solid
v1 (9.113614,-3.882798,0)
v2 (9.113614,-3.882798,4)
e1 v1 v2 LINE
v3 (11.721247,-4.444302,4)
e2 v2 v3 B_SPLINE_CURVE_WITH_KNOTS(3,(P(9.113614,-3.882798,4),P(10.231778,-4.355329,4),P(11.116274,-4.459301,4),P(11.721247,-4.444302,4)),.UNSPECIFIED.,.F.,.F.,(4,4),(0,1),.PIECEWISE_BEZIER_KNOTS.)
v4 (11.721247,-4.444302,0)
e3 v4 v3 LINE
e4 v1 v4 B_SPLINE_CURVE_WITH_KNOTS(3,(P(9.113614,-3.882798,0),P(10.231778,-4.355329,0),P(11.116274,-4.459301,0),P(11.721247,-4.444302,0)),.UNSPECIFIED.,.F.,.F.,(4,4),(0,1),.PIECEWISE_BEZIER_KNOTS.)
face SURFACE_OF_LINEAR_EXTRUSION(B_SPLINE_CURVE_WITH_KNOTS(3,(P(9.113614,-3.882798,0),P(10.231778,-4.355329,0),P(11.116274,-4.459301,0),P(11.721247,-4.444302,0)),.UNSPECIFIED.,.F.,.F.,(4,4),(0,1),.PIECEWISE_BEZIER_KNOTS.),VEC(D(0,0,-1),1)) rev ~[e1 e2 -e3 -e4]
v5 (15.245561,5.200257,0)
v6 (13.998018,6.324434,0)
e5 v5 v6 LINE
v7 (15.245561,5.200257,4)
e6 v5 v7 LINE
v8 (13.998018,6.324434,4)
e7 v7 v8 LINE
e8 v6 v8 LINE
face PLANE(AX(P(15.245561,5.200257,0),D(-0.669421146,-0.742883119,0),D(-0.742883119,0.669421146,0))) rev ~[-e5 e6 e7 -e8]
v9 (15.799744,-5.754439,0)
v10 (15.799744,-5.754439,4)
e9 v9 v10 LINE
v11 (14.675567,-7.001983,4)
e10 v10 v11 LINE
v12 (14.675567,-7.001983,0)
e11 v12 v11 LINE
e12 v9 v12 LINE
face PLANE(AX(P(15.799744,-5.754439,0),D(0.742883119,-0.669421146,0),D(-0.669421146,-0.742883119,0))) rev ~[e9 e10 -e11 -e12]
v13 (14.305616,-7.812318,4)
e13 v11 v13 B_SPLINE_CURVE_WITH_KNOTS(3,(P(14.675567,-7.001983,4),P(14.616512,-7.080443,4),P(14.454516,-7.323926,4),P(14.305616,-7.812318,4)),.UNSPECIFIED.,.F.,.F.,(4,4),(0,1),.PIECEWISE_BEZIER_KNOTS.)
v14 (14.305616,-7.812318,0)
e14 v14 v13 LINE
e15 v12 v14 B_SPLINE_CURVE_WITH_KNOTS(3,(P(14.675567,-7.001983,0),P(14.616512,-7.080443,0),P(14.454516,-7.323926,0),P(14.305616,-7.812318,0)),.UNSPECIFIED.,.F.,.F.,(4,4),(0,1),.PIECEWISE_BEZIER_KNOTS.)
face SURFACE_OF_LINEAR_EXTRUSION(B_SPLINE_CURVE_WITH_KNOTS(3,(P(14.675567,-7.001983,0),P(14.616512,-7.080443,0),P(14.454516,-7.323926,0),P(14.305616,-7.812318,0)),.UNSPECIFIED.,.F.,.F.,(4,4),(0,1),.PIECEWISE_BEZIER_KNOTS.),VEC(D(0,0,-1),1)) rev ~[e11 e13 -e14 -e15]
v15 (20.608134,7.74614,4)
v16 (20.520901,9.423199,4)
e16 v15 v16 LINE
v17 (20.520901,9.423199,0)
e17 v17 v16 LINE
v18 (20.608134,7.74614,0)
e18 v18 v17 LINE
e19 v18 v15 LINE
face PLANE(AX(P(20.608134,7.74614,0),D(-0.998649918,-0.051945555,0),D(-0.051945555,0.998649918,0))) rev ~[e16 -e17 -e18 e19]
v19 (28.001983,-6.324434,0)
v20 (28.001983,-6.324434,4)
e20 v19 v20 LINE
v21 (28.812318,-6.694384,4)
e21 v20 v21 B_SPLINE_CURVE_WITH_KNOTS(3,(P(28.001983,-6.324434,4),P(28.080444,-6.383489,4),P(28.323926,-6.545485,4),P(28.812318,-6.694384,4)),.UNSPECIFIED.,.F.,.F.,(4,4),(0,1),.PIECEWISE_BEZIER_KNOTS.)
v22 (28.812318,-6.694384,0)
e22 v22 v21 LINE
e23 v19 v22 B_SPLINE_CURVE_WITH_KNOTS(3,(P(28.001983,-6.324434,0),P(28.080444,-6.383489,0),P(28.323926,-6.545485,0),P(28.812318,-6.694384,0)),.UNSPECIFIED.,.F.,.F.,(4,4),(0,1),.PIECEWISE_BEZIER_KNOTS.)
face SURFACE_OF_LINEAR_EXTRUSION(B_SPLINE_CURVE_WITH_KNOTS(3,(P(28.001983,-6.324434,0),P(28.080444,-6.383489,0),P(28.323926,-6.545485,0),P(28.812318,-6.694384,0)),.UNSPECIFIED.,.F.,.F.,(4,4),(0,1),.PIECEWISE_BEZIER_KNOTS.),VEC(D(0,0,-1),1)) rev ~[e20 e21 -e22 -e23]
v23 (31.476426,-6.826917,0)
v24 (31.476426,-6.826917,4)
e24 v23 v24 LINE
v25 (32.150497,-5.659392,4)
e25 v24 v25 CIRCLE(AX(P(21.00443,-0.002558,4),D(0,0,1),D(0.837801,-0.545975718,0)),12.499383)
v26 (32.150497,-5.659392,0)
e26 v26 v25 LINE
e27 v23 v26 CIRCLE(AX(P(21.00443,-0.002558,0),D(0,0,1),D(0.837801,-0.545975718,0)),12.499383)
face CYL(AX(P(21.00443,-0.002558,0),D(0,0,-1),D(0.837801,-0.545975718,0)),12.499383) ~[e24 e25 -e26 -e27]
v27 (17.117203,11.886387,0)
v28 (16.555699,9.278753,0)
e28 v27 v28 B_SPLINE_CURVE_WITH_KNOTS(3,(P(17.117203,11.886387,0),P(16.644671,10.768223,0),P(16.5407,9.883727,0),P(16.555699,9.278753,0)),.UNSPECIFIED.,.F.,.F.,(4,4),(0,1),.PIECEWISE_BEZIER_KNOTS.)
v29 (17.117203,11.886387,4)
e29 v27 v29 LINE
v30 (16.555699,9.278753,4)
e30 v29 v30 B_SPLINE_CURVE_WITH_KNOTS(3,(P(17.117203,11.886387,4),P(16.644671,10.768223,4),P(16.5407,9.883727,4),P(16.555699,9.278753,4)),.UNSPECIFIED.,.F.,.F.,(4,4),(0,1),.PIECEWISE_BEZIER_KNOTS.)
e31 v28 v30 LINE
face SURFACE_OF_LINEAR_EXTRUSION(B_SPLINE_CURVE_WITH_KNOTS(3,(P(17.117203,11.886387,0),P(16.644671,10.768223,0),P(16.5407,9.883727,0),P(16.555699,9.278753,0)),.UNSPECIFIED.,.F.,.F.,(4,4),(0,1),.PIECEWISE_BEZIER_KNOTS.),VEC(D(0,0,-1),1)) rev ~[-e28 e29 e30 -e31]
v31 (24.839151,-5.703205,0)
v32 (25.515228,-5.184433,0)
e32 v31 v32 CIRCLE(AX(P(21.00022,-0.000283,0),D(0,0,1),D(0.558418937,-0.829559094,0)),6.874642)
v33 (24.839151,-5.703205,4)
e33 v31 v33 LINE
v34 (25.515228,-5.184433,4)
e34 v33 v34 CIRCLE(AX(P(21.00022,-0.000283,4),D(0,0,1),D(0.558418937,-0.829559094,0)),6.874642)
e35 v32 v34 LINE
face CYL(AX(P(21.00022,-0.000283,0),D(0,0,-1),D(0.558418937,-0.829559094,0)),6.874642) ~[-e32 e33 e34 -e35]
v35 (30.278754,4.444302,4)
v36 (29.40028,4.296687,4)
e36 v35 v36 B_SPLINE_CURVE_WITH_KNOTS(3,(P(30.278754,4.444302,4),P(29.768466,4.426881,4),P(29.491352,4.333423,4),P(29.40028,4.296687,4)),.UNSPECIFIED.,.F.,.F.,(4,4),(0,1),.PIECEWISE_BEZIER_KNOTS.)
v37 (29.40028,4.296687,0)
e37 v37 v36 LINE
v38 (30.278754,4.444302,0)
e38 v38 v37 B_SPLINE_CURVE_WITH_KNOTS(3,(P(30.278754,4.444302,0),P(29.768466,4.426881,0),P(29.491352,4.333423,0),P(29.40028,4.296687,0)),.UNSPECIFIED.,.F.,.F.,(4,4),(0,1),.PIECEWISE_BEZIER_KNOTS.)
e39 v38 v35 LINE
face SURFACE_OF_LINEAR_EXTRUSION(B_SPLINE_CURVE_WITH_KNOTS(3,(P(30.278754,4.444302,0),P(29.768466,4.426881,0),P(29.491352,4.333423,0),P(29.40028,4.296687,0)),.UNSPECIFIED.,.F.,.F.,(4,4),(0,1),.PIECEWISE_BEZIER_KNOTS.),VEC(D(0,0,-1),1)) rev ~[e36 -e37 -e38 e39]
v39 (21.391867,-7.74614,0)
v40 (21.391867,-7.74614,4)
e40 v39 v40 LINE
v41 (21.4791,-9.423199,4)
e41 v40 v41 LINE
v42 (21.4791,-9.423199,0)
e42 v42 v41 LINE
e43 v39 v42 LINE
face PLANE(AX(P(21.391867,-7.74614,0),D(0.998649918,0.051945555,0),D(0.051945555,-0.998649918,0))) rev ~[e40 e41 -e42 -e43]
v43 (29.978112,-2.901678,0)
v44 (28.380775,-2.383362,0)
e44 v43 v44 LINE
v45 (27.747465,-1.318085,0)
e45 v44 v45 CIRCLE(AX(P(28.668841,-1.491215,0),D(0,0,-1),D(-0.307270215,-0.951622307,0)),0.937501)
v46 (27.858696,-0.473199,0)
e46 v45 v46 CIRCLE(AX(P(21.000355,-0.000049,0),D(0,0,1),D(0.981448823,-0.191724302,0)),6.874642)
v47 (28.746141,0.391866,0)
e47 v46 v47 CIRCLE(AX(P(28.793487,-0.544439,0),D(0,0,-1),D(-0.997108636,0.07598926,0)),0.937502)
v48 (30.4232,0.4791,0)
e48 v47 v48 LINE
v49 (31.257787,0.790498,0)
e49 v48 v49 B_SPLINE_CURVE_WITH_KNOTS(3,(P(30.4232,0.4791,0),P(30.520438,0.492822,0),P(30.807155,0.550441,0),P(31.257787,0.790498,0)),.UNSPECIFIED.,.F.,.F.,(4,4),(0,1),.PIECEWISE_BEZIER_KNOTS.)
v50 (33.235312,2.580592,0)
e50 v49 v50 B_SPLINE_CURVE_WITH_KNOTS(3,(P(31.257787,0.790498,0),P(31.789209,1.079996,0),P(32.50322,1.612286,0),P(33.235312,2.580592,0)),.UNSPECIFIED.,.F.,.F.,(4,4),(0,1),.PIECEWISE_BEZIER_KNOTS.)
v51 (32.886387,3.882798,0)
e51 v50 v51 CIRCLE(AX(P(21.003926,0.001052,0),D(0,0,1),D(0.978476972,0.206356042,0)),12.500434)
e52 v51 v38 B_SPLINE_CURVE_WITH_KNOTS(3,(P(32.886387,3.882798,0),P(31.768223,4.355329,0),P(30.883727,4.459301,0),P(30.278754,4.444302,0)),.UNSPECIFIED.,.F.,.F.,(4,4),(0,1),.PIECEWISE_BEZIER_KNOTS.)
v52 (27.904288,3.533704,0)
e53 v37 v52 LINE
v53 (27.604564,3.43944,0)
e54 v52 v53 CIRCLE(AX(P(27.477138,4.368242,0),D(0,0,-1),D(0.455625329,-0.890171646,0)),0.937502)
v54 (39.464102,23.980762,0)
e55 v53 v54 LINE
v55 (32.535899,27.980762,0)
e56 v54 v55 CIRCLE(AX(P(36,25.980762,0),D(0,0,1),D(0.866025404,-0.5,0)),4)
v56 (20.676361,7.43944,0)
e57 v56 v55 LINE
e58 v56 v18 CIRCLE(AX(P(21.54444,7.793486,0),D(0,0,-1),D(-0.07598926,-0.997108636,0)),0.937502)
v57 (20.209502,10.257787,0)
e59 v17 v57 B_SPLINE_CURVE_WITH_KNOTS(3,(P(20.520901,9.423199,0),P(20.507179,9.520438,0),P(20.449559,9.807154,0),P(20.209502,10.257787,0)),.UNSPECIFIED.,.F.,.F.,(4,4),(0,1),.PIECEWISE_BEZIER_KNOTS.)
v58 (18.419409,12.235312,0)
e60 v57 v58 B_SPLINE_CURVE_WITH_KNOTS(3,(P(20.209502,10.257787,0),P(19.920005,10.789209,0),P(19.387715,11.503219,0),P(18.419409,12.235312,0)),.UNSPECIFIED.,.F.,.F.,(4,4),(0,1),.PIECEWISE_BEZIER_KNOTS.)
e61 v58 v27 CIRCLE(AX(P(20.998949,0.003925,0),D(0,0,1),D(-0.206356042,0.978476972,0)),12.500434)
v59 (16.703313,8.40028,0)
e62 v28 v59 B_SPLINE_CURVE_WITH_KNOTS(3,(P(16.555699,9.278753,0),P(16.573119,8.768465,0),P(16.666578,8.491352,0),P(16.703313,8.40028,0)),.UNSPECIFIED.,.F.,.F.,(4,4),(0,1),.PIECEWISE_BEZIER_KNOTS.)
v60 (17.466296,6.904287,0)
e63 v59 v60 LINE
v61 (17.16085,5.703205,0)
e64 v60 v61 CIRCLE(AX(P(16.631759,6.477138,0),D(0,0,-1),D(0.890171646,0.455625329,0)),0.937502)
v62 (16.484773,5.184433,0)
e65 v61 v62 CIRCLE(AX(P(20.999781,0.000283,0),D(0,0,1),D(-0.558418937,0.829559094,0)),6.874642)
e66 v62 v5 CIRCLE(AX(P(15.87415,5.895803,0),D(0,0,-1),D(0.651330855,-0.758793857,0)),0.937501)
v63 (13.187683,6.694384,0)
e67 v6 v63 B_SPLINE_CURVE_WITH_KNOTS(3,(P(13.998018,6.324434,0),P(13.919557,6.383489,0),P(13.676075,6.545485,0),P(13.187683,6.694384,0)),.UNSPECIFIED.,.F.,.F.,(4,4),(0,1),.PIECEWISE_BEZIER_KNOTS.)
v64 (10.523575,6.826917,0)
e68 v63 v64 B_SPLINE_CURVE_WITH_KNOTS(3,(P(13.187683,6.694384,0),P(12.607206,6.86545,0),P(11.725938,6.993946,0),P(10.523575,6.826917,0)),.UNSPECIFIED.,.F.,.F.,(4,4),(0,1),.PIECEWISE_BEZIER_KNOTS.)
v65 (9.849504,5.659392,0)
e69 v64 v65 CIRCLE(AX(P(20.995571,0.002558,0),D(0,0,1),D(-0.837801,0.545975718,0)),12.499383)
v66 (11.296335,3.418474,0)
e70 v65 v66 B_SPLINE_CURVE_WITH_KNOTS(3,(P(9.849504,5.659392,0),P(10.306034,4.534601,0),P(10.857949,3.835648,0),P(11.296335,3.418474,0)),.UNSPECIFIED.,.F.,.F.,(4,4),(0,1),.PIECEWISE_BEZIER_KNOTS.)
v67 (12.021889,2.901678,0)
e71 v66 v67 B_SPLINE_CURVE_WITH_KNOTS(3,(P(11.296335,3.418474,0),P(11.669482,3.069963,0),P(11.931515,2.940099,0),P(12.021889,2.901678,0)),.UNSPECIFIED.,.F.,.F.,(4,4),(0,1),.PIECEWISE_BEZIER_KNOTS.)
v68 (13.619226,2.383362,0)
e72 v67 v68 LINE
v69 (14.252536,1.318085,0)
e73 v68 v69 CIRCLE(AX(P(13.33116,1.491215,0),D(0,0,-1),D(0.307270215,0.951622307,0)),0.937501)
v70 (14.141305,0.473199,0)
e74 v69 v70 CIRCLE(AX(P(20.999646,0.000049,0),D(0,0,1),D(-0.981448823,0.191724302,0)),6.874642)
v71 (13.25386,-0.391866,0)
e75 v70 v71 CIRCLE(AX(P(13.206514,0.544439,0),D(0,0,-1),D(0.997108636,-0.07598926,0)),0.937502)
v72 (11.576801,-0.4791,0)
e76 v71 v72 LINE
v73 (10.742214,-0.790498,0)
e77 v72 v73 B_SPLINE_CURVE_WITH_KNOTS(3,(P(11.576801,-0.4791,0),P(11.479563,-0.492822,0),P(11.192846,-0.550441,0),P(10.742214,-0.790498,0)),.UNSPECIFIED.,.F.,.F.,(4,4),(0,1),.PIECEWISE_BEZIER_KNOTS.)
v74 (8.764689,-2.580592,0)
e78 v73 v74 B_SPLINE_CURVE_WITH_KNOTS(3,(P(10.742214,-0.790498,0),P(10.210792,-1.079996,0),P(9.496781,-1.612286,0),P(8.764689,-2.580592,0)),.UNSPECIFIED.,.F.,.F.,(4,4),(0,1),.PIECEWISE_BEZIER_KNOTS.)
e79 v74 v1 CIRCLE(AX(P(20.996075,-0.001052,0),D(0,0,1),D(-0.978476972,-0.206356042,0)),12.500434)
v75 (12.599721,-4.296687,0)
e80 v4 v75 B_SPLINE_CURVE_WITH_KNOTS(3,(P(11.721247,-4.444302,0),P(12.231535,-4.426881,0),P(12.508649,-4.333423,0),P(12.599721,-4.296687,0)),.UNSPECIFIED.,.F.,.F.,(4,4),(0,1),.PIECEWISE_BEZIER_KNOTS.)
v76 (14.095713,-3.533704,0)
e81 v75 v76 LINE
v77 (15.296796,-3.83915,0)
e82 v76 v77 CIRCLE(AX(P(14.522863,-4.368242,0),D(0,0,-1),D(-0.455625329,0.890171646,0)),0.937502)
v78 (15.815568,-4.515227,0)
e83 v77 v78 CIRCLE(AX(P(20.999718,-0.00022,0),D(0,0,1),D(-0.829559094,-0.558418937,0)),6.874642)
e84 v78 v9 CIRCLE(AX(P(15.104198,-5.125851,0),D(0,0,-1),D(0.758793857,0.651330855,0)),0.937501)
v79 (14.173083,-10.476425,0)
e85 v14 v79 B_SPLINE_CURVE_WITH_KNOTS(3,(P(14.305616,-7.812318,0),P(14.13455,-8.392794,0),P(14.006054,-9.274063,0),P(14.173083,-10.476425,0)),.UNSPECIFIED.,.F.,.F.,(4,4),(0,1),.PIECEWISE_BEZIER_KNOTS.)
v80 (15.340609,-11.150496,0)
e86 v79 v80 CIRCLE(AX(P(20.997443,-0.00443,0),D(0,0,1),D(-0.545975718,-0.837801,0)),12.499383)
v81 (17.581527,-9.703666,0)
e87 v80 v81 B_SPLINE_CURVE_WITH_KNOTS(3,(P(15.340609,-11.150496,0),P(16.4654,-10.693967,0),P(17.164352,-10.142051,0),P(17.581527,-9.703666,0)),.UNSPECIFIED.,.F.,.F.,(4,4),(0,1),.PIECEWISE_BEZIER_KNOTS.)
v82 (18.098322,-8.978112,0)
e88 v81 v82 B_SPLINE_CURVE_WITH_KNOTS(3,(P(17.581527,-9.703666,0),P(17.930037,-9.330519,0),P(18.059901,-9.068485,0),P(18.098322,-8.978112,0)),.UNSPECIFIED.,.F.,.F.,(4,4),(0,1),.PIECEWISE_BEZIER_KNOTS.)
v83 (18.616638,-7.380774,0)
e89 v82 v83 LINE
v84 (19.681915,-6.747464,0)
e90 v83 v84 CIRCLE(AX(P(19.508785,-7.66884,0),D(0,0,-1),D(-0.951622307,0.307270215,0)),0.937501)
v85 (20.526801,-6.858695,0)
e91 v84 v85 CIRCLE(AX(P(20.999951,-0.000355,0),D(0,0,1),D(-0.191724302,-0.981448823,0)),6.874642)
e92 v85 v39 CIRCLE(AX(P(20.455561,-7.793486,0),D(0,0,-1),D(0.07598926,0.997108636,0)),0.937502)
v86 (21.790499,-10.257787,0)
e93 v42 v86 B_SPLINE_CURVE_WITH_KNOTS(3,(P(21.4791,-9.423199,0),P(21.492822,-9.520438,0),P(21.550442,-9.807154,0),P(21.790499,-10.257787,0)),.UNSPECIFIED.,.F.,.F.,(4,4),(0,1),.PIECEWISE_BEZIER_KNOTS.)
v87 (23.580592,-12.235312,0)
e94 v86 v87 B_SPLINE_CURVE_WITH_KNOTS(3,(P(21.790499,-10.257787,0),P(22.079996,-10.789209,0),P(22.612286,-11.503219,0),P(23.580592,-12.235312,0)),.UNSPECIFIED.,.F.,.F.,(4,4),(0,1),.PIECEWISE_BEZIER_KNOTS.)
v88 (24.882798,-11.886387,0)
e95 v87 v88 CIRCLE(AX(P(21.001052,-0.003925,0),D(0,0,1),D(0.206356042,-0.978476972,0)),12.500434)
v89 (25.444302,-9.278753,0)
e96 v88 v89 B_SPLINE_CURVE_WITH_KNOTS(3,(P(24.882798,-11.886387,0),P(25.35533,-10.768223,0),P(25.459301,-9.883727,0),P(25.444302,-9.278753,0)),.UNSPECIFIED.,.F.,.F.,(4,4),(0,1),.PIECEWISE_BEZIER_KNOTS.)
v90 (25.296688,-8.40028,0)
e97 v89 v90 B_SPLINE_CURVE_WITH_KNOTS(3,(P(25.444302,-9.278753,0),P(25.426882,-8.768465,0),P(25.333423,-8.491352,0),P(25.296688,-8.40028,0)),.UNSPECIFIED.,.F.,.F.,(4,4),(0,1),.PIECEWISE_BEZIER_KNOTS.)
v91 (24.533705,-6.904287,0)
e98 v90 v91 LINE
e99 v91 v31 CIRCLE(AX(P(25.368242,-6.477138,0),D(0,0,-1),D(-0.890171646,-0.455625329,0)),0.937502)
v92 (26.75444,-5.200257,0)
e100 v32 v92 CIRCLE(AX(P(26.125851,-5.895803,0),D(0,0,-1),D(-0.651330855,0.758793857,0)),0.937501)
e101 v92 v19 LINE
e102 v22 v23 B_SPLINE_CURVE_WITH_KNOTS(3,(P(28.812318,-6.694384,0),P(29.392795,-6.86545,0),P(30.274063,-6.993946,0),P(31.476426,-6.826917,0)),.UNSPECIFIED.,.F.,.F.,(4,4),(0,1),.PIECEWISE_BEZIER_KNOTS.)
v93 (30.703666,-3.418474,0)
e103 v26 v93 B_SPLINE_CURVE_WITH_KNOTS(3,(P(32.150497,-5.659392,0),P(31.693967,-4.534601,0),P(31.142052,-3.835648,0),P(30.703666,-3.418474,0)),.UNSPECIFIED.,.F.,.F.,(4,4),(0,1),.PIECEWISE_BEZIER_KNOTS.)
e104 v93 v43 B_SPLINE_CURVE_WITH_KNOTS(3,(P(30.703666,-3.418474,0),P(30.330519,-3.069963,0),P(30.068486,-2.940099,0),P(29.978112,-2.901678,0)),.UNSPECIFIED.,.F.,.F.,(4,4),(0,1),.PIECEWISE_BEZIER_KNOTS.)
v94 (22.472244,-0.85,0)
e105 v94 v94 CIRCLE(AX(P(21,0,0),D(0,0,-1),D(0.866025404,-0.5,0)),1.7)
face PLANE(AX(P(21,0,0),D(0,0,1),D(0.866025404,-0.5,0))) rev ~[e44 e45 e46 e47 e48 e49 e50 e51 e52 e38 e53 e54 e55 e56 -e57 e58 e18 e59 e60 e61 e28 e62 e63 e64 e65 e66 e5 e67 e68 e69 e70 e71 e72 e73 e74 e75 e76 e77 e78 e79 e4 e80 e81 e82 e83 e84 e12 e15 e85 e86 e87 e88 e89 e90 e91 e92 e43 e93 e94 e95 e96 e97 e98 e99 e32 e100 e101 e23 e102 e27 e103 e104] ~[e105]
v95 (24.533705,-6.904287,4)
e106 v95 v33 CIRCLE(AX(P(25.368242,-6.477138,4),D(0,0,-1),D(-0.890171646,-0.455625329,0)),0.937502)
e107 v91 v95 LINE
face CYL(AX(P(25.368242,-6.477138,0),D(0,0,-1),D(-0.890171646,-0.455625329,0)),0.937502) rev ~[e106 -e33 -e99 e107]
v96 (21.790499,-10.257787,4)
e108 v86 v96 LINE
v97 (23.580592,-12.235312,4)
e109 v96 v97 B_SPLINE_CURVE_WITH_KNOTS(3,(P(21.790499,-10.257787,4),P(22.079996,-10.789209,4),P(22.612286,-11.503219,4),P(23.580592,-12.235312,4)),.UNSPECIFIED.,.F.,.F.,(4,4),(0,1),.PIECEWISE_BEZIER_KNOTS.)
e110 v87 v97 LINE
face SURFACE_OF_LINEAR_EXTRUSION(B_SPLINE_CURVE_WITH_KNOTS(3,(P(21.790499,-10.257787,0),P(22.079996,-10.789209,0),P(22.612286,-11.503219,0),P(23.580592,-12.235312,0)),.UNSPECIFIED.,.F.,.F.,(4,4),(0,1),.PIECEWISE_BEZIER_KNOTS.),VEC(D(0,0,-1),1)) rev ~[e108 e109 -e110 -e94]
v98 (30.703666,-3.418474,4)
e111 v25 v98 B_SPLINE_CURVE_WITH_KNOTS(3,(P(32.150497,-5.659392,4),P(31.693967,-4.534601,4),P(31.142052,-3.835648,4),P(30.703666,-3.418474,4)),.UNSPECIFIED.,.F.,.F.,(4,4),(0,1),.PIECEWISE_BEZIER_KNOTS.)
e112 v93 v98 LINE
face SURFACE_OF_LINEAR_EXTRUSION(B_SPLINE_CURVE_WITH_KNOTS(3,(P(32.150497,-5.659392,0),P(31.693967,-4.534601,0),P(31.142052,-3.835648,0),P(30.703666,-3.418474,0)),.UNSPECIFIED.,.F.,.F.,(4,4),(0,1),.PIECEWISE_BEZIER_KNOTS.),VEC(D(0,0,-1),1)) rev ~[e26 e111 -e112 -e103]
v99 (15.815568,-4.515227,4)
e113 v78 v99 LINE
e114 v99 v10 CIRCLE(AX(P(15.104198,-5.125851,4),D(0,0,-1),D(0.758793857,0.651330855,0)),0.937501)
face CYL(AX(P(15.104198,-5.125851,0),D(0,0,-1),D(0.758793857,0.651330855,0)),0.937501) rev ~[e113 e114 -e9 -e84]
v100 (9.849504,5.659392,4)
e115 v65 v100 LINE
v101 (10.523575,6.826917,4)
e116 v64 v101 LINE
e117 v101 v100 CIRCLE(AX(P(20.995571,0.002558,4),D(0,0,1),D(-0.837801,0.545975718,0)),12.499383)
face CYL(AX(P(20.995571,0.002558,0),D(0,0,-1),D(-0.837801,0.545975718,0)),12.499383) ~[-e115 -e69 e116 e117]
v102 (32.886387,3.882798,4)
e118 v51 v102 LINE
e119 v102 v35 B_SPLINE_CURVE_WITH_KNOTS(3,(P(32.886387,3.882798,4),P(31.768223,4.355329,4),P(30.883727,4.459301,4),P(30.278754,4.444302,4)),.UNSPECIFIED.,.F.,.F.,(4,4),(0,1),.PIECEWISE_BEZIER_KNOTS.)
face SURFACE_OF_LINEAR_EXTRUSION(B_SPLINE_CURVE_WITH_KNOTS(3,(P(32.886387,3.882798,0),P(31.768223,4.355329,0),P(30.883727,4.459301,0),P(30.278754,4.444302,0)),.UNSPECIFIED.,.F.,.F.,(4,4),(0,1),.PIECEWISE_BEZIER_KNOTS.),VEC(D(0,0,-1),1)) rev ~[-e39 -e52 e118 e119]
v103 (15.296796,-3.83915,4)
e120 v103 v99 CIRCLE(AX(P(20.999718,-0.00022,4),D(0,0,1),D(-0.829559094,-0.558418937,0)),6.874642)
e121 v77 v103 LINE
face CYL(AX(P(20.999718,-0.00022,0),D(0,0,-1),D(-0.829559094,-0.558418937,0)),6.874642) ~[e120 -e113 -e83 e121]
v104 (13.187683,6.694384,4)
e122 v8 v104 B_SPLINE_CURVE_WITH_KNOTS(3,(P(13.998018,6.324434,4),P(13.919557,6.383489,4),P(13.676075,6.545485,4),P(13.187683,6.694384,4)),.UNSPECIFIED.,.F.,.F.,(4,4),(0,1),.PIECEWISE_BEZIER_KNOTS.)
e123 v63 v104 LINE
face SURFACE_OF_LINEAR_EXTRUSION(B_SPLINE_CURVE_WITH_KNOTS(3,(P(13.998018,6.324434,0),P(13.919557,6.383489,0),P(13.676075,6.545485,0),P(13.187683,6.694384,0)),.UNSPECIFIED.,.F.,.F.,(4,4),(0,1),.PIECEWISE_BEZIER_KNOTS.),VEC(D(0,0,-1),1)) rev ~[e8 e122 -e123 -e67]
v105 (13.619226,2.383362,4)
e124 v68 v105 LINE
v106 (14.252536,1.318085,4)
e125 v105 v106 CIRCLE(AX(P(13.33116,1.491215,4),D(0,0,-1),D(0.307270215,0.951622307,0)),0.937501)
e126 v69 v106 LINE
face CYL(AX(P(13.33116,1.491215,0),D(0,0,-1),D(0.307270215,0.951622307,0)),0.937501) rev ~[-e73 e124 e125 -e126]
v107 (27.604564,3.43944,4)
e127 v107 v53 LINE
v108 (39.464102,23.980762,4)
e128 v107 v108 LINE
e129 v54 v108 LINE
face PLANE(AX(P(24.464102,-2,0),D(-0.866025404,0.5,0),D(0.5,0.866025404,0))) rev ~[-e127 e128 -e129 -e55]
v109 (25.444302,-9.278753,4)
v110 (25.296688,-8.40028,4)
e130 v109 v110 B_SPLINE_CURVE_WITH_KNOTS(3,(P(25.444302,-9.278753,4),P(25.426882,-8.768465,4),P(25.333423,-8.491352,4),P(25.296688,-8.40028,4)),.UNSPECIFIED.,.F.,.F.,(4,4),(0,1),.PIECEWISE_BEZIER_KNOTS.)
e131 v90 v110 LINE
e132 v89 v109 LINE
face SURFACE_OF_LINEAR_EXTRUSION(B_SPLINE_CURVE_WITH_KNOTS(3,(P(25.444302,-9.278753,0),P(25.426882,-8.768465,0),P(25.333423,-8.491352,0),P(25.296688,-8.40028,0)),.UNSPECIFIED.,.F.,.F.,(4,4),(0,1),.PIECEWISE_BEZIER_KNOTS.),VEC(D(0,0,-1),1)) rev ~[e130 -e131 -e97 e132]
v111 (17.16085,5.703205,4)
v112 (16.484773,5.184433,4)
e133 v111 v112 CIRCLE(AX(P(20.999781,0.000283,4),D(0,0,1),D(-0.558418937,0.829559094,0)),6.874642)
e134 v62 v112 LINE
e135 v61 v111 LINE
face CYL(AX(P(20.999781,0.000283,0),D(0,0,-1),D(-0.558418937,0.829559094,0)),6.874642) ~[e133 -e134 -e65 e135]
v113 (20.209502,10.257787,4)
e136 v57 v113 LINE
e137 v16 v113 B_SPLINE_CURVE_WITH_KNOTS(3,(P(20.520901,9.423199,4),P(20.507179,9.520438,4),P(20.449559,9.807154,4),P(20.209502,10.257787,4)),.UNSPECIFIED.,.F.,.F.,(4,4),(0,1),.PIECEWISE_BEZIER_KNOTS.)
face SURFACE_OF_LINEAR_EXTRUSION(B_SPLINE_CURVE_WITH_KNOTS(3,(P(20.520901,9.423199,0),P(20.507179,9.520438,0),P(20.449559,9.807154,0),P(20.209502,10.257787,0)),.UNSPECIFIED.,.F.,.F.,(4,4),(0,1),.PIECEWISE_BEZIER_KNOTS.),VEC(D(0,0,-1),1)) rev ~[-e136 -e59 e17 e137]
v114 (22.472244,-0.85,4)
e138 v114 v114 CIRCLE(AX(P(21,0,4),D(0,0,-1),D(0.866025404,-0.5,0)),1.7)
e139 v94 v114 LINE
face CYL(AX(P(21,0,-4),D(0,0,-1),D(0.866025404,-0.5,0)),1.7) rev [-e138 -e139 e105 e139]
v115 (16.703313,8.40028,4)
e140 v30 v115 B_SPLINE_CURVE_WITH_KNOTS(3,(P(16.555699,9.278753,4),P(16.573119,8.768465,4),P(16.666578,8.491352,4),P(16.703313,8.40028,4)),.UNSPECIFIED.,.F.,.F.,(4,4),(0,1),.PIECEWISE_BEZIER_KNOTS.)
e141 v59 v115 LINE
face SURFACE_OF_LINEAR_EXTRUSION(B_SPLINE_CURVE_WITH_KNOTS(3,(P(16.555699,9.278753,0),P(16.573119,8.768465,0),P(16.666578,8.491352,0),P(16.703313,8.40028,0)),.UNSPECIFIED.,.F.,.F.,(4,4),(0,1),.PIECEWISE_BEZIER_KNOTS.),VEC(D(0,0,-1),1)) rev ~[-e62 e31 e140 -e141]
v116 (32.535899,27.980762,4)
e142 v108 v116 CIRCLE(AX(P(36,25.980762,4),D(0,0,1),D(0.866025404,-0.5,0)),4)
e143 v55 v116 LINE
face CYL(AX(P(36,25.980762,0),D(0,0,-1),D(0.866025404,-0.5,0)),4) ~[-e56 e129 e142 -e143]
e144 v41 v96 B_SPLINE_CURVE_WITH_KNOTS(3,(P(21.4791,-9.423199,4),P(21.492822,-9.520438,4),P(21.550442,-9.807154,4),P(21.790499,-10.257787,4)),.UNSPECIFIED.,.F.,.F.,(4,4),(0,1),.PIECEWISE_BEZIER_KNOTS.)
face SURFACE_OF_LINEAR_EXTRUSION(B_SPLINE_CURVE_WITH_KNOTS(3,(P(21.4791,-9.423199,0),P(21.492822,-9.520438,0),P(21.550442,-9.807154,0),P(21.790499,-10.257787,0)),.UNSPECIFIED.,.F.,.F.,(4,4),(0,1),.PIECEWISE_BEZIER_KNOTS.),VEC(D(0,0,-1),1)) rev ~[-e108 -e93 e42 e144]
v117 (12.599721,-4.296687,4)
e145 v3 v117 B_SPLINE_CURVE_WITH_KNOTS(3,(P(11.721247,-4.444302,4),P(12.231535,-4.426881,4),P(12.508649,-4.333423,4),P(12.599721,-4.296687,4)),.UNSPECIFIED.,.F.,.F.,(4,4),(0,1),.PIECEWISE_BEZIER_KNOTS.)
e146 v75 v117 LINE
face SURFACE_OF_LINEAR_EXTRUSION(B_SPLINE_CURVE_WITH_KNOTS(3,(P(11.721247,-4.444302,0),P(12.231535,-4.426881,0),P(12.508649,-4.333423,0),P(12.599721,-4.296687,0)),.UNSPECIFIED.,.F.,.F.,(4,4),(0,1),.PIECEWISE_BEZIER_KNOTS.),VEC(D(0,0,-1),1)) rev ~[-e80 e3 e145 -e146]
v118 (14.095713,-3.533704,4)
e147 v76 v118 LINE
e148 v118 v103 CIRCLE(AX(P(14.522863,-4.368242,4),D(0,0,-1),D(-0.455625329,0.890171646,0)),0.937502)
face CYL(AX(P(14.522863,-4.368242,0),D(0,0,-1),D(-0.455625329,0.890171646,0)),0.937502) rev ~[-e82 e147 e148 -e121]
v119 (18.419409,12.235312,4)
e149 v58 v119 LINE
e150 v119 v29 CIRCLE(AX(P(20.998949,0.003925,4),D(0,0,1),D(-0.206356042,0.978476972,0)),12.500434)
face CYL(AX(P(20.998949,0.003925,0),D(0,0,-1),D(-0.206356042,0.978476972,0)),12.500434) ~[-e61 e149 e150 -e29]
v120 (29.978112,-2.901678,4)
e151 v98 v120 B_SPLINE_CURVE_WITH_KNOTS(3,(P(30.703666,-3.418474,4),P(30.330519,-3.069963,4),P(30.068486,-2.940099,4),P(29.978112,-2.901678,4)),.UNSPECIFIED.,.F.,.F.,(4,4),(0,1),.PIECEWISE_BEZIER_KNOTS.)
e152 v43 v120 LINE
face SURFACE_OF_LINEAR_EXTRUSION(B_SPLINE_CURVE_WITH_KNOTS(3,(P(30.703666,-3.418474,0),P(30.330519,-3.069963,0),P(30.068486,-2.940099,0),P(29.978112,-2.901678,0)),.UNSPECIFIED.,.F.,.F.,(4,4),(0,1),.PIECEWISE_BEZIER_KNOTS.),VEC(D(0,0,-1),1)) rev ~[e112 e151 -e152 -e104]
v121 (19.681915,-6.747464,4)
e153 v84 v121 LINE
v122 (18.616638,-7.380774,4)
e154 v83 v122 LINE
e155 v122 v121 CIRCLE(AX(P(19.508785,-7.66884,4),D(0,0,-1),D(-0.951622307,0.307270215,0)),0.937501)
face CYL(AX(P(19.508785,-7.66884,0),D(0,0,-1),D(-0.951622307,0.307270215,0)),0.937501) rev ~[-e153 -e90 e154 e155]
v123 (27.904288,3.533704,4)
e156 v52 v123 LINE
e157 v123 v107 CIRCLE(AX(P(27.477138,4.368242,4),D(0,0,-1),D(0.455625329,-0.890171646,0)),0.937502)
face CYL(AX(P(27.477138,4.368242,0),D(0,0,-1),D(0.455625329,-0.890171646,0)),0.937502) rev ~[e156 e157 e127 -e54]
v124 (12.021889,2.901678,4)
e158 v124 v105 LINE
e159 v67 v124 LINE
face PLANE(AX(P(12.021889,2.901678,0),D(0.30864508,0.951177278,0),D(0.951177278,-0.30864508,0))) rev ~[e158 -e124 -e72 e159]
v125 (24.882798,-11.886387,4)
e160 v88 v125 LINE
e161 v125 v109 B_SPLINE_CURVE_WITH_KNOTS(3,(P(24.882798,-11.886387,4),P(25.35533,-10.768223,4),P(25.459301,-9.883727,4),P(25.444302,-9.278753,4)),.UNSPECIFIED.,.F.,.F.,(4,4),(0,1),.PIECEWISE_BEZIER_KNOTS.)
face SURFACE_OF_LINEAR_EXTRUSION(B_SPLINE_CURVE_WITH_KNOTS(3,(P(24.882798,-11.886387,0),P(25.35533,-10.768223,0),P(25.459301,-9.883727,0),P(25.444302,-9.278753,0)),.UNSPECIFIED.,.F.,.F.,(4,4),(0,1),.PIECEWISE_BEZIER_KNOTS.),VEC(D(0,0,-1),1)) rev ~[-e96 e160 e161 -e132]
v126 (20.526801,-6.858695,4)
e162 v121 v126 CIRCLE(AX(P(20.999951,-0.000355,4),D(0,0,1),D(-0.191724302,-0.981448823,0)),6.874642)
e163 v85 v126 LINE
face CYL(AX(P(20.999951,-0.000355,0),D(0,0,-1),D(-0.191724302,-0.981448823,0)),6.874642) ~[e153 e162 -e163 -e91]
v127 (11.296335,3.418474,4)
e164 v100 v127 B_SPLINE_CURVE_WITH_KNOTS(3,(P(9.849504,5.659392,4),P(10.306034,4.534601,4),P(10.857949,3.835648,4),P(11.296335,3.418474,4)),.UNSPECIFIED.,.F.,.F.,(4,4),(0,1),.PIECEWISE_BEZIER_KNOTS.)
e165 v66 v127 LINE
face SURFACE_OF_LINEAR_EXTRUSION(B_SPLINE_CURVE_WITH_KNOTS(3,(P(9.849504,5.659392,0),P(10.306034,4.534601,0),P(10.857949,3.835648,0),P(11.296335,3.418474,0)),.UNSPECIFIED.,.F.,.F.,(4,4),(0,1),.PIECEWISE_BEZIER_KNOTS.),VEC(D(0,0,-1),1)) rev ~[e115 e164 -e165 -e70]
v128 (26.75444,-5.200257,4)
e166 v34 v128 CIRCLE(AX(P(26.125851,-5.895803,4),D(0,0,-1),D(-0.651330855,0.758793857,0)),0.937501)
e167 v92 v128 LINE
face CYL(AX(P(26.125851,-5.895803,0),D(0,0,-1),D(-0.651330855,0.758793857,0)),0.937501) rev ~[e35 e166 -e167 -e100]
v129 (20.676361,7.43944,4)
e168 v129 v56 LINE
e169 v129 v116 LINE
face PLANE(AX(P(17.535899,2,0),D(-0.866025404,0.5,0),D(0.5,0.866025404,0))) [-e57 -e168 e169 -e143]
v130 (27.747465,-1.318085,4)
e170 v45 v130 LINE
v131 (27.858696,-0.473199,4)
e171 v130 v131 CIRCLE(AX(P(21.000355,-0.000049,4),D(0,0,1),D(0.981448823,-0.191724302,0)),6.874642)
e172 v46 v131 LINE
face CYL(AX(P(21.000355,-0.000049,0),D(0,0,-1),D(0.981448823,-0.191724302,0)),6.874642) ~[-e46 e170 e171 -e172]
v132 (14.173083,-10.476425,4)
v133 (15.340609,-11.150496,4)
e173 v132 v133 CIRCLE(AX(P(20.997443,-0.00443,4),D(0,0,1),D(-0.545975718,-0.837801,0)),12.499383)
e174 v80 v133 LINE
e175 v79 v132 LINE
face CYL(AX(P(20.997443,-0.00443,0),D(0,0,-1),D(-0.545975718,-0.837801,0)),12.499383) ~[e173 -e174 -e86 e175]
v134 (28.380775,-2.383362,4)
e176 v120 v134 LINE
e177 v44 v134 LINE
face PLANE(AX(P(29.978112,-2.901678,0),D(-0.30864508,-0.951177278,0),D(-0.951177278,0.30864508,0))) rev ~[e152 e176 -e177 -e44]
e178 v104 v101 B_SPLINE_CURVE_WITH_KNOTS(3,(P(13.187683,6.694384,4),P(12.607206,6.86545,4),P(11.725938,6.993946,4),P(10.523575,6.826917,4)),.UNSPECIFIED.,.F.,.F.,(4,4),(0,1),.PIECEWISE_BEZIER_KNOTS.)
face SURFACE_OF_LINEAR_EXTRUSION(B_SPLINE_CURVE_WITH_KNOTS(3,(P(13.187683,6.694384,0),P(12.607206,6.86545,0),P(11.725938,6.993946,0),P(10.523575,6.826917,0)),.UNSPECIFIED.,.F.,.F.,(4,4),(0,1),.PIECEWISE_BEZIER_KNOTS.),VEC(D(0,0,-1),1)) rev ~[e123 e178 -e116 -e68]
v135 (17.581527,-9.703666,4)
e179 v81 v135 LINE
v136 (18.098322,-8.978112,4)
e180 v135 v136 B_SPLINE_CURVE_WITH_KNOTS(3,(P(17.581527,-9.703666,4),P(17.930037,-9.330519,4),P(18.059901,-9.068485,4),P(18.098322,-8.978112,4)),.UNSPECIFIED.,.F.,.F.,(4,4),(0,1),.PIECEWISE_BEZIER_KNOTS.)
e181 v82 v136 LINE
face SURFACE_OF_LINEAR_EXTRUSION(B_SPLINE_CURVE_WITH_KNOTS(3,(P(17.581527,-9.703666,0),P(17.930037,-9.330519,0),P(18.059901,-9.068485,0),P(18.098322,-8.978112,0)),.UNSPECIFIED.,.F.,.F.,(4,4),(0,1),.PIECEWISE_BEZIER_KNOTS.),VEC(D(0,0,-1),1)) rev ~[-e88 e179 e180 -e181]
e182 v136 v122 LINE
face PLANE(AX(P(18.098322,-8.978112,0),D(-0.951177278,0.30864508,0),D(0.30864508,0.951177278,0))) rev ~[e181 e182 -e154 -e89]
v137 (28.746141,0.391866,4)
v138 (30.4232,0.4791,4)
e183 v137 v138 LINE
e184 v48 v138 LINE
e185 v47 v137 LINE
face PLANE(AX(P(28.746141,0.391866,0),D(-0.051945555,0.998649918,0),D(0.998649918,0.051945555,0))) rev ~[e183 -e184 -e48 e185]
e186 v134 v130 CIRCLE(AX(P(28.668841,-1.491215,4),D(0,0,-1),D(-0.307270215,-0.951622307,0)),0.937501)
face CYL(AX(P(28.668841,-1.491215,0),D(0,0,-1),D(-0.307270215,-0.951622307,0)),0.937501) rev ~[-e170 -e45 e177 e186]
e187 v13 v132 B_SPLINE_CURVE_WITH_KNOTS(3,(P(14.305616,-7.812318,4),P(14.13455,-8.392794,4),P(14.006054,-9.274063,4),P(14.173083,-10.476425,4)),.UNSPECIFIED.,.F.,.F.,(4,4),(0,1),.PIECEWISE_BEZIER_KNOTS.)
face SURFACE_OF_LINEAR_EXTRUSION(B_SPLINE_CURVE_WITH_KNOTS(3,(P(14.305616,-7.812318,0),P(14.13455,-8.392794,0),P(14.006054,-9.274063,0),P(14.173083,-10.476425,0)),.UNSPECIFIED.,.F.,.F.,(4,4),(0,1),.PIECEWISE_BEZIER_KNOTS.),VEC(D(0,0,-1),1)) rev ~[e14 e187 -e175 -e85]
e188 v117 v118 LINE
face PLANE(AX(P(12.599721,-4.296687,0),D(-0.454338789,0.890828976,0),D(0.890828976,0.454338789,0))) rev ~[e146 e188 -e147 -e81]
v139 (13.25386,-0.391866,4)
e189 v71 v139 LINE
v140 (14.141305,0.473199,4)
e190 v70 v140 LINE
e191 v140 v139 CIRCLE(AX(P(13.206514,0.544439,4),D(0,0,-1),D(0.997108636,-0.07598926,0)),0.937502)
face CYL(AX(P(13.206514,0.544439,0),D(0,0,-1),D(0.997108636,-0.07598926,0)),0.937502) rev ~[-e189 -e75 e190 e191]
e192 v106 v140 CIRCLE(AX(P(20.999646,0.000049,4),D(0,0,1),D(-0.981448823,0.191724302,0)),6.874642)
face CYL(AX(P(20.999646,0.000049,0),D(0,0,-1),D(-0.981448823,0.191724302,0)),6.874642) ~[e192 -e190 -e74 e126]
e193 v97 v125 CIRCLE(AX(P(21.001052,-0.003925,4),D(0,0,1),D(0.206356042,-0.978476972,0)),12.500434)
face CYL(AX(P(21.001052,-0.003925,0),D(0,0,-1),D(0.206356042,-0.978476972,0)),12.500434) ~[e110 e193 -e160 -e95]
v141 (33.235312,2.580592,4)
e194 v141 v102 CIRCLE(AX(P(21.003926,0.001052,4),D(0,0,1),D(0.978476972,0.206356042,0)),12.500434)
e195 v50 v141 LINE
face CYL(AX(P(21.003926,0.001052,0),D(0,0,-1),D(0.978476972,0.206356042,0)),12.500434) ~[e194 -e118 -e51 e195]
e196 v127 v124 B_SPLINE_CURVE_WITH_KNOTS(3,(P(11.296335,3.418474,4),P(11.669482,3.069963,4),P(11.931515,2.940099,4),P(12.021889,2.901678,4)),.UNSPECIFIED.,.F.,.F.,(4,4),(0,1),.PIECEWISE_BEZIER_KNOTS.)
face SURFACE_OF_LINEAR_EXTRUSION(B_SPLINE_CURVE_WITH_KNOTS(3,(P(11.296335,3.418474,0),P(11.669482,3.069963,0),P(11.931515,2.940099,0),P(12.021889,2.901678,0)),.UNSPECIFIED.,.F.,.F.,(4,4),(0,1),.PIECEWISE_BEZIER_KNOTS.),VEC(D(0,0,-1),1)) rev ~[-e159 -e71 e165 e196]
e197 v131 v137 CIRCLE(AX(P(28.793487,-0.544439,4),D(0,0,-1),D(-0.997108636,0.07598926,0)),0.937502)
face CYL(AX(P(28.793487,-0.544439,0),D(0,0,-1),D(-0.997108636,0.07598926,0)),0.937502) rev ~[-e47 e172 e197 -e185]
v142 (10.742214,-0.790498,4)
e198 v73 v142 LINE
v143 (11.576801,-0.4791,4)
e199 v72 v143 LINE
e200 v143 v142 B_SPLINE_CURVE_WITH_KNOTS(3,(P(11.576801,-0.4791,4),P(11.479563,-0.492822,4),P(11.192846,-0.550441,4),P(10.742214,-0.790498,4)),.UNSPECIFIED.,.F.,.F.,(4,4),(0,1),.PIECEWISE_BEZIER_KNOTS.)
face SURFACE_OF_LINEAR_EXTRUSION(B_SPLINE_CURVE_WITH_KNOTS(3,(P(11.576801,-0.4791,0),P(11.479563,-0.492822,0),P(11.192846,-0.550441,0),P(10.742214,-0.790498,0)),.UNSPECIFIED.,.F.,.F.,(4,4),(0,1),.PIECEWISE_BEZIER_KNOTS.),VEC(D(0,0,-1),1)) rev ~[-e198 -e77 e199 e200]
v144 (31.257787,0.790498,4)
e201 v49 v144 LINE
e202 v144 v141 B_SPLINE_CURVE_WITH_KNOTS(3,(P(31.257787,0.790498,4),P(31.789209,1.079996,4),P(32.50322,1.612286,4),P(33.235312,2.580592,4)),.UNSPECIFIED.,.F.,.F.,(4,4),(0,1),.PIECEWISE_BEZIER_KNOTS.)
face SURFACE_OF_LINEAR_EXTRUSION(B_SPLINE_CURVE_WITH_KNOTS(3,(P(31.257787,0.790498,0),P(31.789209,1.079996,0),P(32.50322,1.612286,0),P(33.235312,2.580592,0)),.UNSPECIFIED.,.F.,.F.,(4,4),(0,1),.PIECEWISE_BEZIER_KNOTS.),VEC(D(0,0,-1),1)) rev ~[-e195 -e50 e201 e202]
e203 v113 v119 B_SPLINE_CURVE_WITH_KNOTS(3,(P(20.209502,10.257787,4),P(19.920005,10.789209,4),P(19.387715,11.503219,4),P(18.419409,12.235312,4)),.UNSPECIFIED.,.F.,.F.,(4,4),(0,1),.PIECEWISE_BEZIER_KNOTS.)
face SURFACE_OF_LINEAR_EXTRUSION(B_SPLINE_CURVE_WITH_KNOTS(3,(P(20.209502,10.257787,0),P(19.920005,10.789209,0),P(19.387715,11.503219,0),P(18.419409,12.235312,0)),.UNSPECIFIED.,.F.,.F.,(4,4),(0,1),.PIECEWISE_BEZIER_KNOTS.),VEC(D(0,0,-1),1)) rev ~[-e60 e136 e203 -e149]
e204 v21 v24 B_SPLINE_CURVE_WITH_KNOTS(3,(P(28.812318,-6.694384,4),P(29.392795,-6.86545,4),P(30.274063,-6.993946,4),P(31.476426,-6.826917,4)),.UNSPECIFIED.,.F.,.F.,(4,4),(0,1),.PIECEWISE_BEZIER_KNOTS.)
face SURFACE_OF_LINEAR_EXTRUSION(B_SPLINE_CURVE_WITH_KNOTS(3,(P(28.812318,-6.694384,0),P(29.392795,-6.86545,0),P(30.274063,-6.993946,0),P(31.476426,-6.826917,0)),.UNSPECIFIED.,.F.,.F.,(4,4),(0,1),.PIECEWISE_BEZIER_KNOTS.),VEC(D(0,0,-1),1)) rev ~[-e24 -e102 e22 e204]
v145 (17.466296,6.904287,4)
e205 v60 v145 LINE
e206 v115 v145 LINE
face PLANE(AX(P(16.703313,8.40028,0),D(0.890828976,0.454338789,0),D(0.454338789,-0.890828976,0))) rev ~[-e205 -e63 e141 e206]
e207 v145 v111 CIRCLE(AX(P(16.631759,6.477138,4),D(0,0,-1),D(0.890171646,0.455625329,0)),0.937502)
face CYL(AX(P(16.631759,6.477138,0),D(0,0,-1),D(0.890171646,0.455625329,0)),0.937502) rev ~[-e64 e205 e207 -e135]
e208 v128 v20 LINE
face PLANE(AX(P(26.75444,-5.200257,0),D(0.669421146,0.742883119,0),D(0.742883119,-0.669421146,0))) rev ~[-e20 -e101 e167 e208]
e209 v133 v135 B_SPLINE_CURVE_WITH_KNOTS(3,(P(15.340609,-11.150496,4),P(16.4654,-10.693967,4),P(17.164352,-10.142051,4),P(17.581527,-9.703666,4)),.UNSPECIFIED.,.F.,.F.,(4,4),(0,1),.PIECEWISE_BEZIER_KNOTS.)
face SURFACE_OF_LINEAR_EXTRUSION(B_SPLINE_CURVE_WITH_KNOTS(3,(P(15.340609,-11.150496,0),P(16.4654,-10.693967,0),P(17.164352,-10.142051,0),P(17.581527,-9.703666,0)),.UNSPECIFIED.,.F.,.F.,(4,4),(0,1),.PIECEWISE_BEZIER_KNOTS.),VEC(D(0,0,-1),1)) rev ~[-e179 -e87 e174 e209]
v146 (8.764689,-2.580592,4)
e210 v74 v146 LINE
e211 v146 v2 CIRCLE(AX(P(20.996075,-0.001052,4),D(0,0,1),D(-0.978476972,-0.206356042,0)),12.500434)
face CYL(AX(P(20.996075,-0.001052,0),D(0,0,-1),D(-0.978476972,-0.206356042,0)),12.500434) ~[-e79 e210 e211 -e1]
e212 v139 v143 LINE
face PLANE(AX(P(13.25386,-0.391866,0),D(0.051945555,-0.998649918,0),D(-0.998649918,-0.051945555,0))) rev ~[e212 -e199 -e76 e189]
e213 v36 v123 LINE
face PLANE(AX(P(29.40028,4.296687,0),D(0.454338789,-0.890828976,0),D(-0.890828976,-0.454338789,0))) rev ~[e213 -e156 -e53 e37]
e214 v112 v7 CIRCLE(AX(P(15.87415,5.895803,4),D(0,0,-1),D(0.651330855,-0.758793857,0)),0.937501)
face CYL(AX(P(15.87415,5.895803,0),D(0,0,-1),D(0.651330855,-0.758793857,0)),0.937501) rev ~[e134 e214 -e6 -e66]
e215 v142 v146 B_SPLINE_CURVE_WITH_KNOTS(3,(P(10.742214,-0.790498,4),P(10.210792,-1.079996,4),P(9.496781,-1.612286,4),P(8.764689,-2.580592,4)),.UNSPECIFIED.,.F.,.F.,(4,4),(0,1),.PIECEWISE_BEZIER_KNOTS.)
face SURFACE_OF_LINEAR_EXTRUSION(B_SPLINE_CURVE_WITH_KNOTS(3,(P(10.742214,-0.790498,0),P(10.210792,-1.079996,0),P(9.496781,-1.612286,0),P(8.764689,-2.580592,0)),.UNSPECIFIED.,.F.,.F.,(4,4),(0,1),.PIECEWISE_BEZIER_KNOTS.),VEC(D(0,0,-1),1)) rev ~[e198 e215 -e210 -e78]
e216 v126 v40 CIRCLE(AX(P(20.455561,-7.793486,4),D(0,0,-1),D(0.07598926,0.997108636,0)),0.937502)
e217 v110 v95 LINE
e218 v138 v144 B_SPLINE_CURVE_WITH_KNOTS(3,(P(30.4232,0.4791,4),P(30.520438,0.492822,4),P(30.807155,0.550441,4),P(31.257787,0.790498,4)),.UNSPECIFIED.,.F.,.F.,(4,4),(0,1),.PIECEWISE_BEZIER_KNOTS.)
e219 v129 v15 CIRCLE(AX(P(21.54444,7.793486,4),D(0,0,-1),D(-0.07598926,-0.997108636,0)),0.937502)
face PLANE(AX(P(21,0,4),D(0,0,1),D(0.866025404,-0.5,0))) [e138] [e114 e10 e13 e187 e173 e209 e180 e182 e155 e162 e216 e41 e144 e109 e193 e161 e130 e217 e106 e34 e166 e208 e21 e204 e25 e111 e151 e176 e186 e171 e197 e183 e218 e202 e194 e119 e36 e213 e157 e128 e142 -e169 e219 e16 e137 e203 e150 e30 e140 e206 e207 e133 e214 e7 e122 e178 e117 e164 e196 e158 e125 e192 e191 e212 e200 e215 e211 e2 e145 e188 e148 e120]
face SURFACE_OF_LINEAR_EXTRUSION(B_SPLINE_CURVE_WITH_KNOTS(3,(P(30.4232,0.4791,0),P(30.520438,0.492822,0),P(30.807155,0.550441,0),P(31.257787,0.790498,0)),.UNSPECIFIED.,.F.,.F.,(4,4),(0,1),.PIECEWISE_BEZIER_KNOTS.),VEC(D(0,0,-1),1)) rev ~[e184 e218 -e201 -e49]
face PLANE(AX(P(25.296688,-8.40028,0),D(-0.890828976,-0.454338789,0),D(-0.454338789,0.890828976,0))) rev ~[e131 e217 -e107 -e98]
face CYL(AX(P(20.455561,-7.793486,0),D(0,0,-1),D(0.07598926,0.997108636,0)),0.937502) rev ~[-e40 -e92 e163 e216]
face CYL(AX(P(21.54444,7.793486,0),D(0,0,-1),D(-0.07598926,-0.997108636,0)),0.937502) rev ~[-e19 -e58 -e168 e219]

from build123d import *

# Parameters (mm, degrees)
CYLINDER006_R          = 1.7
CYLINDER006_DEPTH      = 10
EXTRUDE011_DEPTH       = 4
EXTRUDE013_DEPTH       = 4
CUT005_PLACEMENT_ANGLE = 30


with BuildPart() as cylinder006:
    # Cylinder006 → Cylinder006 (new body)
    with BuildSketch(Plane(origin=(21, 0, -4), x_dir=(1, 0, 0), z_dir=(0, 0, 1))):
        Circle(CYLINDER006_R)
    extrude(amount=CYLINDER006_DEPTH)


with BuildPart() as extrude011:
    # InvoluteGear004 → Extrude011 (new body)
    with BuildSketch(Plane.XY):
        with BuildLine():
            Line((7.583619, -1.626335), (9.226112, -1.976129))
            add(Edge.make_bspline(
                [(9.226112, -1.976129), (9.323588, -1.988042), (9.615448, -2.006593), (10.112858, -1.891348)],
                knots=[0, 0, 0, 0, 1, 1, 1, 1], degree=3))
            add(Edge.make_bspline(
                [(10.112858, -1.891348), (10.701098, -1.749257), (11.528547, -1.419904), (12.486309, -0.674071)],
                knots=[0, 0, 0, 0, 1, 1, 1, 1], degree=3))
            ThreePointArc((12.486309, -0.674071), (12.504498, 0), (12.486309, 0.674071))
            add(Edge.make_bspline(
                [(12.486309, 0.674071), (11.528547, 1.419904), (10.701098, 1.749257), (10.112858, 1.891348)],
                knots=[0, 0, 0, 0, 1, 1, 1, 1], degree=3))
            add(Edge.make_bspline(
                [(10.112858, 1.891348), (9.615448, 2.006593), (9.323588, 1.988042), (9.226112, 1.976129)],
                knots=[0, 0, 0, 0, 1, 1, 1, 1], degree=3))
            Line((9.226112, 1.976129), (7.583619, 1.626335))
            ThreePointArc((7.583619, 1.626335), (6.928673, 1.725171), (6.502518, 2.232237))
            ThreePointArc((6.502518, 2.232237), (6.351672, 2.630949), (6.176404, 3.019545))
            ThreePointArc((6.176404, 3.019545), (6.119192, 3.679432), (6.512421, 4.212436))
            Line((6.512421, 4.212436), (7.92118, 5.126512))
            add(Edge.make_bspline(
                [(7.92118, 5.126512), (7.99853, 5.187015), (8.218024, 5.380273), (8.488255, 5.813485)],
                knots=[0, 0, 0, 0, 1, 1, 1, 1], degree=3))
            add(Edge.make_bspline(
                [(8.488255, 5.813485), (8.803731, 6.329908), (9.155937, 7.14789), (9.305795, 8.352514)],
                knots=[0, 0, 0, 0, 1, 1, 1, 1], degree=3))
            ThreePointArc((9.305795, 8.352514), (8.842015, 8.842015), (8.352514, 9.305795))
            add(Edge.make_bspline(
                [(8.352514, 9.305795), (7.14789, 9.155937), (6.329908, 8.803731), (5.813485, 8.488255)],
                knots=[0, 0, 0, 0, 1, 1, 1, 1], degree=3))
            add(Edge.make_bspline(
                [(5.813485, 8.488255), (5.380273, 8.218024), (5.187015, 7.99853), (5.126512, 7.92118)],
                knots=[0, 0, 0, 0, 1, 1, 1, 1], degree=3))
            Line((5.126512, 7.92118), (4.212436, 6.512421))
            ThreePointArc((4.212436, 6.512421), (3.679432, 6.119192), (3.019545, 6.176404))
            ThreePointArc((3.019545, 6.176404), (2.630949, 6.351672), (2.232237, 6.502518))
            ThreePointArc((2.232237, 6.502518), (1.725171, 6.928673), (1.626335, 7.583619))
            Line((1.626335, 7.583619), (1.976129, 9.226112))
            add(Edge.make_bspline(
                [(1.976129, 9.226112), (1.988042, 9.323588), (2.006593, 9.615448), (1.891348, 10.112858)],
                knots=[0, 0, 0, 0, 1, 1, 1, 1], degree=3))
            add(Edge.make_bspline(
                [(1.891348, 10.112858), (1.749257, 10.701098), (1.419904, 11.528547), (0.674071, 12.486309)],
                knots=[0, 0, 0, 0, 1, 1, 1, 1], degree=3))
            ThreePointArc((0.674071, 12.486309), (0, 12.504498), (-0.674071, 12.486309))
            add(Edge.make_bspline(
                [(-0.674071, 12.486309), (-1.419904, 11.528547), (-1.749257, 10.701098), (-1.891348, 10.112858)],
                knots=[0, 0, 0, 0, 1, 1, 1, 1], degree=3))
            add(Edge.make_bspline(
                [(-1.891348, 10.112858), (-2.006593, 9.615448), (-1.988042, 9.323588), (-1.976129, 9.226112)],
                knots=[0, 0, 0, 0, 1, 1, 1, 1], degree=3))
            Line((-1.976129, 9.226112), (-1.626335, 7.583619))
            ThreePointArc((-1.626335, 7.583619), (-1.725171, 6.928673), (-2.232237, 6.502518))
            ThreePointArc((-2.232237, 6.502518), (-2.630949, 6.351672), (-3.019545, 6.176404))
            ThreePointArc((-3.019545, 6.176404), (-3.679432, 6.119192), (-4.212436, 6.512421))
            Line((-4.212436, 6.512421), (-5.126512, 7.92118))
            add(Edge.make_bspline(
                [(-5.126512, 7.92118), (-5.187015, 7.99853), (-5.380273, 8.218024), (-5.813485, 8.488255)],
                knots=[0, 0, 0, 0, 1, 1, 1, 1], degree=3))
            add(Edge.make_bspline(
                [(-5.813485, 8.488255), (-6.329908, 8.803731), (-7.14789, 9.155937), (-8.352514, 9.305795)],
                knots=[0, 0, 0, 0, 1, 1, 1, 1], degree=3))
            ThreePointArc((-8.352514, 9.305795), (-8.842015, 8.842015), (-9.305795, 8.352514))
            add(Edge.make_bspline(
                [(-9.305795, 8.352514), (-9.155937, 7.14789), (-8.803731, 6.329908), (-8.488255, 5.813485)],
                knots=[0, 0, 0, 0, 1, 1, 1, 1], degree=3))
            add(Edge.make_bspline(
                [(-8.488255, 5.813485), (-8.218024, 5.380273), (-7.99853, 5.187015), (-7.92118, 5.126512)],
                knots=[0, 0, 0, 0, 1, 1, 1, 1], degree=3))
            Line((-7.92118, 5.126512), (-6.512421, 4.212436))
            ThreePointArc((-6.512421, 4.212436), (-6.119192, 3.679432), (-6.176404, 3.019545))
            ThreePointArc((-6.176404, 3.019545), (-6.351672, 2.630949), (-6.502518, 2.232237))
            ThreePointArc((-6.502518, 2.232237), (-6.928673, 1.725171), (-7.583619, 1.626335))
            Line((-7.583619, 1.626335), (-9.226112, 1.976129))
            add(Edge.make_bspline(
                [(-9.226112, 1.976129), (-9.323588, 1.988042), (-9.615448, 2.006593), (-10.112858, 1.891348)],
                knots=[0, 0, 0, 0, 1, 1, 1, 1], degree=3))
            add(Edge.make_bspline(
                [(-10.112858, 1.891348), (-10.701098, 1.749257), (-11.528547, 1.419904), (-12.486309, 0.674071)],
                knots=[0, 0, 0, 0, 1, 1, 1, 1], degree=3))
            ThreePointArc((-12.486309, 0.674071), (-12.504498, 0), (-12.486309, -0.674071))
            add(Edge.make_bspline(
                [(-12.486309, -0.674071), (-11.528547, -1.419904), (-10.701098, -1.749257), (-10.112858, -1.891348)],
                knots=[0, 0, 0, 0, 1, 1, 1, 1], degree=3))
            add(Edge.make_bspline(
                [(-10.112858, -1.891348), (-9.615448, -2.006593), (-9.323588, -1.988042), (-9.226112, -1.976129)],
                knots=[0, 0, 0, 0, 1, 1, 1, 1], degree=3))
            Line((-9.226112, -1.976129), (-7.583619, -1.626335))
            ThreePointArc((-7.583619, -1.626335), (-6.928673, -1.725171), (-6.502518, -2.232237))
            ThreePointArc((-6.502518, -2.232237), (-6.351672, -2.630949), (-6.176404, -3.019545))
            ThreePointArc((-6.176404, -3.019545), (-6.119192, -3.679432), (-6.512421, -4.212436))
            Line((-6.512421, -4.212436), (-7.92118, -5.126512))
            add(Edge.make_bspline(
                [(-7.92118, -5.126512), (-7.99853, -5.187015), (-8.218024, -5.380273), (-8.488255, -5.813485)],
                knots=[0, 0, 0, 0, 1, 1, 1, 1], degree=3))
            add(Edge.make_bspline(
                [(-8.488255, -5.813485), (-8.803731, -6.329908), (-9.155937, -7.14789), (-9.305795, -8.352514)],
                knots=[0, 0, 0, 0, 1, 1, 1, 1], degree=3))
            ThreePointArc((-9.305795, -8.352514), (-8.842015, -8.842015), (-8.352514, -9.305795))
            add(Edge.make_bspline(
                [(-8.352514, -9.305795), (-7.14789, -9.155937), (-6.329908, -8.803731), (-5.813485, -8.488255)],
                knots=[0, 0, 0, 0, 1, 1, 1, 1], degree=3))
            add(Edge.make_bspline(
                [(-5.813485, -8.488255), (-5.380273, -8.218024), (-5.187015, -7.99853), (-5.126512, -7.92118)],
                knots=[0, 0, 0, 0, 1, 1, 1, 1], degree=3))
            Line((-5.126512, -7.92118), (-4.212436, -6.512421))
            ThreePointArc((-4.212436, -6.512421), (-3.679432, -6.119192), (-3.019545, -6.176404))
            ThreePointArc((-3.019545, -6.176404), (-2.630949, -6.351672), (-2.232237, -6.502518))
            ThreePointArc((-2.232237, -6.502518), (-1.725171, -6.928673), (-1.626335, -7.583619))
            Line((-1.626335, -7.583619), (-1.976129, -9.226112))
            add(Edge.make_bspline(
                [(-1.976129, -9.226112), (-1.988042, -9.323588), (-2.006593, -9.615448), (-1.891348, -10.112858)],
                knots=[0, 0, 0, 0, 1, 1, 1, 1], degree=3))
            add(Edge.make_bspline(
                [(-1.891348, -10.112858), (-1.749257, -10.701098), (-1.419904, -11.528547), (-0.674071, -12.486309)],
                knots=[0, 0, 0, 0, 1, 1, 1, 1], degree=3))
            ThreePointArc((-0.674071, -12.486309), (0, -12.504498), (0.674071, -12.486309))
            add(Edge.make_bspline(
                [(0.674071, -12.486309), (1.419904, -11.528547), (1.749257, -10.701098), (1.891348, -10.112858)],
                knots=[0, 0, 0, 0, 1, 1, 1, 1], degree=3))
            add(Edge.make_bspline(
                [(1.891348, -10.112858), (2.006593, -9.615448), (1.988042, -9.323588), (1.976129, -9.226112)],
                knots=[0, 0, 0, 0, 1, 1, 1, 1], degree=3))
            Line((1.976129, -9.226112), (1.626335, -7.583619))
            ThreePointArc((1.626335, -7.583619), (1.725171, -6.928673), (2.232237, -6.502518))
            ThreePointArc((2.232237, -6.502518), (2.630949, -6.351672), (3.019545, -6.176404))
            ThreePointArc((3.019545, -6.176404), (3.679432, -6.119192), (4.212436, -6.512421))
            Line((4.212436, -6.512421), (5.126512, -7.92118))
            add(Edge.make_bspline(
                [(5.126512, -7.92118), (5.187015, -7.99853), (5.380273, -8.218024), (5.813485, -8.488255)],
                knots=[0, 0, 0, 0, 1, 1, 1, 1], degree=3))
            add(Edge.make_bspline(
                [(5.813485, -8.488255), (6.329908, -8.803731), (7.14789, -9.155937), (8.352514, -9.305795)],
                knots=[0, 0, 0, 0, 1, 1, 1, 1], degree=3))
            ThreePointArc((8.352514, -9.305795), (8.842015, -8.842015), (9.305795, -8.352514))
            add(Edge.make_bspline(
                [(9.305795, -8.352514), (9.155937, -7.14789), (8.803731, -6.329908), (8.488255, -5.813485)],
                knots=[0, 0, 0, 0, 1, 1, 1, 1], degree=3))
            add(Edge.make_bspline(
                [(8.488255, -5.813485), (8.218024, -5.380273), (7.99853, -5.187015), (7.92118, -5.126512)],
                knots=[0, 0, 0, 0, 1, 1, 1, 1], degree=3))
            Line((7.92118, -5.126512), (6.512421, -4.212436))
            ThreePointArc((6.512421, -4.212436), (6.119192, -3.679432), (6.176404, -3.019545))
            ThreePointArc((6.176404, -3.019545), (6.351672, -2.630949), (6.502518, -2.232237))
            ThreePointArc((6.502518, -2.232237), (6.928673, -1.725171), (7.583619, -1.626335))
        make_face()
    extrude(amount=EXTRUDE011_DEPTH)


with BuildPart() as extrude011_1:
    # Extrude011 placement: moved
    add(extrude011.part.moved(Location((21, 0, 0))))


with BuildPart() as cut005:
    # Sketch006 → Extrude013 (new body)
    with BuildSketch(Plane.XY):
        with BuildLine():
            ThreePointArc((-4, 0), (0, -4), (4, 0))
            Line((4, 0), (4, 30))
            ThreePointArc((4, 30), (0, 34), (-4, 30))
            Line((-4, 0), (-4, 30))
        make_face()
    extrude(amount=EXTRUDE013_DEPTH)


with BuildPart() as cut005_1:
    # Extrude013 placement: moved
    add(cut005.part.moved(Location((21, 0, 0))))

    # Fusion003: union Extrude011
    add(extrude011_1.part)

    # Cut005: cut Cylinder006
    add(cylinder006.part, mode=Mode.SUBTRACT)


with BuildPart() as cut005_2:
    # Cut005 placement: moved
    add(cut005_1.part.moved(Location((2.813467, 10.5, 0))).rotate(Axis((2.813467, 10.5, 0), (0, 0, -1)), CUT005_PLACEMENT_ANGLE))


solid = cut005_2.part
